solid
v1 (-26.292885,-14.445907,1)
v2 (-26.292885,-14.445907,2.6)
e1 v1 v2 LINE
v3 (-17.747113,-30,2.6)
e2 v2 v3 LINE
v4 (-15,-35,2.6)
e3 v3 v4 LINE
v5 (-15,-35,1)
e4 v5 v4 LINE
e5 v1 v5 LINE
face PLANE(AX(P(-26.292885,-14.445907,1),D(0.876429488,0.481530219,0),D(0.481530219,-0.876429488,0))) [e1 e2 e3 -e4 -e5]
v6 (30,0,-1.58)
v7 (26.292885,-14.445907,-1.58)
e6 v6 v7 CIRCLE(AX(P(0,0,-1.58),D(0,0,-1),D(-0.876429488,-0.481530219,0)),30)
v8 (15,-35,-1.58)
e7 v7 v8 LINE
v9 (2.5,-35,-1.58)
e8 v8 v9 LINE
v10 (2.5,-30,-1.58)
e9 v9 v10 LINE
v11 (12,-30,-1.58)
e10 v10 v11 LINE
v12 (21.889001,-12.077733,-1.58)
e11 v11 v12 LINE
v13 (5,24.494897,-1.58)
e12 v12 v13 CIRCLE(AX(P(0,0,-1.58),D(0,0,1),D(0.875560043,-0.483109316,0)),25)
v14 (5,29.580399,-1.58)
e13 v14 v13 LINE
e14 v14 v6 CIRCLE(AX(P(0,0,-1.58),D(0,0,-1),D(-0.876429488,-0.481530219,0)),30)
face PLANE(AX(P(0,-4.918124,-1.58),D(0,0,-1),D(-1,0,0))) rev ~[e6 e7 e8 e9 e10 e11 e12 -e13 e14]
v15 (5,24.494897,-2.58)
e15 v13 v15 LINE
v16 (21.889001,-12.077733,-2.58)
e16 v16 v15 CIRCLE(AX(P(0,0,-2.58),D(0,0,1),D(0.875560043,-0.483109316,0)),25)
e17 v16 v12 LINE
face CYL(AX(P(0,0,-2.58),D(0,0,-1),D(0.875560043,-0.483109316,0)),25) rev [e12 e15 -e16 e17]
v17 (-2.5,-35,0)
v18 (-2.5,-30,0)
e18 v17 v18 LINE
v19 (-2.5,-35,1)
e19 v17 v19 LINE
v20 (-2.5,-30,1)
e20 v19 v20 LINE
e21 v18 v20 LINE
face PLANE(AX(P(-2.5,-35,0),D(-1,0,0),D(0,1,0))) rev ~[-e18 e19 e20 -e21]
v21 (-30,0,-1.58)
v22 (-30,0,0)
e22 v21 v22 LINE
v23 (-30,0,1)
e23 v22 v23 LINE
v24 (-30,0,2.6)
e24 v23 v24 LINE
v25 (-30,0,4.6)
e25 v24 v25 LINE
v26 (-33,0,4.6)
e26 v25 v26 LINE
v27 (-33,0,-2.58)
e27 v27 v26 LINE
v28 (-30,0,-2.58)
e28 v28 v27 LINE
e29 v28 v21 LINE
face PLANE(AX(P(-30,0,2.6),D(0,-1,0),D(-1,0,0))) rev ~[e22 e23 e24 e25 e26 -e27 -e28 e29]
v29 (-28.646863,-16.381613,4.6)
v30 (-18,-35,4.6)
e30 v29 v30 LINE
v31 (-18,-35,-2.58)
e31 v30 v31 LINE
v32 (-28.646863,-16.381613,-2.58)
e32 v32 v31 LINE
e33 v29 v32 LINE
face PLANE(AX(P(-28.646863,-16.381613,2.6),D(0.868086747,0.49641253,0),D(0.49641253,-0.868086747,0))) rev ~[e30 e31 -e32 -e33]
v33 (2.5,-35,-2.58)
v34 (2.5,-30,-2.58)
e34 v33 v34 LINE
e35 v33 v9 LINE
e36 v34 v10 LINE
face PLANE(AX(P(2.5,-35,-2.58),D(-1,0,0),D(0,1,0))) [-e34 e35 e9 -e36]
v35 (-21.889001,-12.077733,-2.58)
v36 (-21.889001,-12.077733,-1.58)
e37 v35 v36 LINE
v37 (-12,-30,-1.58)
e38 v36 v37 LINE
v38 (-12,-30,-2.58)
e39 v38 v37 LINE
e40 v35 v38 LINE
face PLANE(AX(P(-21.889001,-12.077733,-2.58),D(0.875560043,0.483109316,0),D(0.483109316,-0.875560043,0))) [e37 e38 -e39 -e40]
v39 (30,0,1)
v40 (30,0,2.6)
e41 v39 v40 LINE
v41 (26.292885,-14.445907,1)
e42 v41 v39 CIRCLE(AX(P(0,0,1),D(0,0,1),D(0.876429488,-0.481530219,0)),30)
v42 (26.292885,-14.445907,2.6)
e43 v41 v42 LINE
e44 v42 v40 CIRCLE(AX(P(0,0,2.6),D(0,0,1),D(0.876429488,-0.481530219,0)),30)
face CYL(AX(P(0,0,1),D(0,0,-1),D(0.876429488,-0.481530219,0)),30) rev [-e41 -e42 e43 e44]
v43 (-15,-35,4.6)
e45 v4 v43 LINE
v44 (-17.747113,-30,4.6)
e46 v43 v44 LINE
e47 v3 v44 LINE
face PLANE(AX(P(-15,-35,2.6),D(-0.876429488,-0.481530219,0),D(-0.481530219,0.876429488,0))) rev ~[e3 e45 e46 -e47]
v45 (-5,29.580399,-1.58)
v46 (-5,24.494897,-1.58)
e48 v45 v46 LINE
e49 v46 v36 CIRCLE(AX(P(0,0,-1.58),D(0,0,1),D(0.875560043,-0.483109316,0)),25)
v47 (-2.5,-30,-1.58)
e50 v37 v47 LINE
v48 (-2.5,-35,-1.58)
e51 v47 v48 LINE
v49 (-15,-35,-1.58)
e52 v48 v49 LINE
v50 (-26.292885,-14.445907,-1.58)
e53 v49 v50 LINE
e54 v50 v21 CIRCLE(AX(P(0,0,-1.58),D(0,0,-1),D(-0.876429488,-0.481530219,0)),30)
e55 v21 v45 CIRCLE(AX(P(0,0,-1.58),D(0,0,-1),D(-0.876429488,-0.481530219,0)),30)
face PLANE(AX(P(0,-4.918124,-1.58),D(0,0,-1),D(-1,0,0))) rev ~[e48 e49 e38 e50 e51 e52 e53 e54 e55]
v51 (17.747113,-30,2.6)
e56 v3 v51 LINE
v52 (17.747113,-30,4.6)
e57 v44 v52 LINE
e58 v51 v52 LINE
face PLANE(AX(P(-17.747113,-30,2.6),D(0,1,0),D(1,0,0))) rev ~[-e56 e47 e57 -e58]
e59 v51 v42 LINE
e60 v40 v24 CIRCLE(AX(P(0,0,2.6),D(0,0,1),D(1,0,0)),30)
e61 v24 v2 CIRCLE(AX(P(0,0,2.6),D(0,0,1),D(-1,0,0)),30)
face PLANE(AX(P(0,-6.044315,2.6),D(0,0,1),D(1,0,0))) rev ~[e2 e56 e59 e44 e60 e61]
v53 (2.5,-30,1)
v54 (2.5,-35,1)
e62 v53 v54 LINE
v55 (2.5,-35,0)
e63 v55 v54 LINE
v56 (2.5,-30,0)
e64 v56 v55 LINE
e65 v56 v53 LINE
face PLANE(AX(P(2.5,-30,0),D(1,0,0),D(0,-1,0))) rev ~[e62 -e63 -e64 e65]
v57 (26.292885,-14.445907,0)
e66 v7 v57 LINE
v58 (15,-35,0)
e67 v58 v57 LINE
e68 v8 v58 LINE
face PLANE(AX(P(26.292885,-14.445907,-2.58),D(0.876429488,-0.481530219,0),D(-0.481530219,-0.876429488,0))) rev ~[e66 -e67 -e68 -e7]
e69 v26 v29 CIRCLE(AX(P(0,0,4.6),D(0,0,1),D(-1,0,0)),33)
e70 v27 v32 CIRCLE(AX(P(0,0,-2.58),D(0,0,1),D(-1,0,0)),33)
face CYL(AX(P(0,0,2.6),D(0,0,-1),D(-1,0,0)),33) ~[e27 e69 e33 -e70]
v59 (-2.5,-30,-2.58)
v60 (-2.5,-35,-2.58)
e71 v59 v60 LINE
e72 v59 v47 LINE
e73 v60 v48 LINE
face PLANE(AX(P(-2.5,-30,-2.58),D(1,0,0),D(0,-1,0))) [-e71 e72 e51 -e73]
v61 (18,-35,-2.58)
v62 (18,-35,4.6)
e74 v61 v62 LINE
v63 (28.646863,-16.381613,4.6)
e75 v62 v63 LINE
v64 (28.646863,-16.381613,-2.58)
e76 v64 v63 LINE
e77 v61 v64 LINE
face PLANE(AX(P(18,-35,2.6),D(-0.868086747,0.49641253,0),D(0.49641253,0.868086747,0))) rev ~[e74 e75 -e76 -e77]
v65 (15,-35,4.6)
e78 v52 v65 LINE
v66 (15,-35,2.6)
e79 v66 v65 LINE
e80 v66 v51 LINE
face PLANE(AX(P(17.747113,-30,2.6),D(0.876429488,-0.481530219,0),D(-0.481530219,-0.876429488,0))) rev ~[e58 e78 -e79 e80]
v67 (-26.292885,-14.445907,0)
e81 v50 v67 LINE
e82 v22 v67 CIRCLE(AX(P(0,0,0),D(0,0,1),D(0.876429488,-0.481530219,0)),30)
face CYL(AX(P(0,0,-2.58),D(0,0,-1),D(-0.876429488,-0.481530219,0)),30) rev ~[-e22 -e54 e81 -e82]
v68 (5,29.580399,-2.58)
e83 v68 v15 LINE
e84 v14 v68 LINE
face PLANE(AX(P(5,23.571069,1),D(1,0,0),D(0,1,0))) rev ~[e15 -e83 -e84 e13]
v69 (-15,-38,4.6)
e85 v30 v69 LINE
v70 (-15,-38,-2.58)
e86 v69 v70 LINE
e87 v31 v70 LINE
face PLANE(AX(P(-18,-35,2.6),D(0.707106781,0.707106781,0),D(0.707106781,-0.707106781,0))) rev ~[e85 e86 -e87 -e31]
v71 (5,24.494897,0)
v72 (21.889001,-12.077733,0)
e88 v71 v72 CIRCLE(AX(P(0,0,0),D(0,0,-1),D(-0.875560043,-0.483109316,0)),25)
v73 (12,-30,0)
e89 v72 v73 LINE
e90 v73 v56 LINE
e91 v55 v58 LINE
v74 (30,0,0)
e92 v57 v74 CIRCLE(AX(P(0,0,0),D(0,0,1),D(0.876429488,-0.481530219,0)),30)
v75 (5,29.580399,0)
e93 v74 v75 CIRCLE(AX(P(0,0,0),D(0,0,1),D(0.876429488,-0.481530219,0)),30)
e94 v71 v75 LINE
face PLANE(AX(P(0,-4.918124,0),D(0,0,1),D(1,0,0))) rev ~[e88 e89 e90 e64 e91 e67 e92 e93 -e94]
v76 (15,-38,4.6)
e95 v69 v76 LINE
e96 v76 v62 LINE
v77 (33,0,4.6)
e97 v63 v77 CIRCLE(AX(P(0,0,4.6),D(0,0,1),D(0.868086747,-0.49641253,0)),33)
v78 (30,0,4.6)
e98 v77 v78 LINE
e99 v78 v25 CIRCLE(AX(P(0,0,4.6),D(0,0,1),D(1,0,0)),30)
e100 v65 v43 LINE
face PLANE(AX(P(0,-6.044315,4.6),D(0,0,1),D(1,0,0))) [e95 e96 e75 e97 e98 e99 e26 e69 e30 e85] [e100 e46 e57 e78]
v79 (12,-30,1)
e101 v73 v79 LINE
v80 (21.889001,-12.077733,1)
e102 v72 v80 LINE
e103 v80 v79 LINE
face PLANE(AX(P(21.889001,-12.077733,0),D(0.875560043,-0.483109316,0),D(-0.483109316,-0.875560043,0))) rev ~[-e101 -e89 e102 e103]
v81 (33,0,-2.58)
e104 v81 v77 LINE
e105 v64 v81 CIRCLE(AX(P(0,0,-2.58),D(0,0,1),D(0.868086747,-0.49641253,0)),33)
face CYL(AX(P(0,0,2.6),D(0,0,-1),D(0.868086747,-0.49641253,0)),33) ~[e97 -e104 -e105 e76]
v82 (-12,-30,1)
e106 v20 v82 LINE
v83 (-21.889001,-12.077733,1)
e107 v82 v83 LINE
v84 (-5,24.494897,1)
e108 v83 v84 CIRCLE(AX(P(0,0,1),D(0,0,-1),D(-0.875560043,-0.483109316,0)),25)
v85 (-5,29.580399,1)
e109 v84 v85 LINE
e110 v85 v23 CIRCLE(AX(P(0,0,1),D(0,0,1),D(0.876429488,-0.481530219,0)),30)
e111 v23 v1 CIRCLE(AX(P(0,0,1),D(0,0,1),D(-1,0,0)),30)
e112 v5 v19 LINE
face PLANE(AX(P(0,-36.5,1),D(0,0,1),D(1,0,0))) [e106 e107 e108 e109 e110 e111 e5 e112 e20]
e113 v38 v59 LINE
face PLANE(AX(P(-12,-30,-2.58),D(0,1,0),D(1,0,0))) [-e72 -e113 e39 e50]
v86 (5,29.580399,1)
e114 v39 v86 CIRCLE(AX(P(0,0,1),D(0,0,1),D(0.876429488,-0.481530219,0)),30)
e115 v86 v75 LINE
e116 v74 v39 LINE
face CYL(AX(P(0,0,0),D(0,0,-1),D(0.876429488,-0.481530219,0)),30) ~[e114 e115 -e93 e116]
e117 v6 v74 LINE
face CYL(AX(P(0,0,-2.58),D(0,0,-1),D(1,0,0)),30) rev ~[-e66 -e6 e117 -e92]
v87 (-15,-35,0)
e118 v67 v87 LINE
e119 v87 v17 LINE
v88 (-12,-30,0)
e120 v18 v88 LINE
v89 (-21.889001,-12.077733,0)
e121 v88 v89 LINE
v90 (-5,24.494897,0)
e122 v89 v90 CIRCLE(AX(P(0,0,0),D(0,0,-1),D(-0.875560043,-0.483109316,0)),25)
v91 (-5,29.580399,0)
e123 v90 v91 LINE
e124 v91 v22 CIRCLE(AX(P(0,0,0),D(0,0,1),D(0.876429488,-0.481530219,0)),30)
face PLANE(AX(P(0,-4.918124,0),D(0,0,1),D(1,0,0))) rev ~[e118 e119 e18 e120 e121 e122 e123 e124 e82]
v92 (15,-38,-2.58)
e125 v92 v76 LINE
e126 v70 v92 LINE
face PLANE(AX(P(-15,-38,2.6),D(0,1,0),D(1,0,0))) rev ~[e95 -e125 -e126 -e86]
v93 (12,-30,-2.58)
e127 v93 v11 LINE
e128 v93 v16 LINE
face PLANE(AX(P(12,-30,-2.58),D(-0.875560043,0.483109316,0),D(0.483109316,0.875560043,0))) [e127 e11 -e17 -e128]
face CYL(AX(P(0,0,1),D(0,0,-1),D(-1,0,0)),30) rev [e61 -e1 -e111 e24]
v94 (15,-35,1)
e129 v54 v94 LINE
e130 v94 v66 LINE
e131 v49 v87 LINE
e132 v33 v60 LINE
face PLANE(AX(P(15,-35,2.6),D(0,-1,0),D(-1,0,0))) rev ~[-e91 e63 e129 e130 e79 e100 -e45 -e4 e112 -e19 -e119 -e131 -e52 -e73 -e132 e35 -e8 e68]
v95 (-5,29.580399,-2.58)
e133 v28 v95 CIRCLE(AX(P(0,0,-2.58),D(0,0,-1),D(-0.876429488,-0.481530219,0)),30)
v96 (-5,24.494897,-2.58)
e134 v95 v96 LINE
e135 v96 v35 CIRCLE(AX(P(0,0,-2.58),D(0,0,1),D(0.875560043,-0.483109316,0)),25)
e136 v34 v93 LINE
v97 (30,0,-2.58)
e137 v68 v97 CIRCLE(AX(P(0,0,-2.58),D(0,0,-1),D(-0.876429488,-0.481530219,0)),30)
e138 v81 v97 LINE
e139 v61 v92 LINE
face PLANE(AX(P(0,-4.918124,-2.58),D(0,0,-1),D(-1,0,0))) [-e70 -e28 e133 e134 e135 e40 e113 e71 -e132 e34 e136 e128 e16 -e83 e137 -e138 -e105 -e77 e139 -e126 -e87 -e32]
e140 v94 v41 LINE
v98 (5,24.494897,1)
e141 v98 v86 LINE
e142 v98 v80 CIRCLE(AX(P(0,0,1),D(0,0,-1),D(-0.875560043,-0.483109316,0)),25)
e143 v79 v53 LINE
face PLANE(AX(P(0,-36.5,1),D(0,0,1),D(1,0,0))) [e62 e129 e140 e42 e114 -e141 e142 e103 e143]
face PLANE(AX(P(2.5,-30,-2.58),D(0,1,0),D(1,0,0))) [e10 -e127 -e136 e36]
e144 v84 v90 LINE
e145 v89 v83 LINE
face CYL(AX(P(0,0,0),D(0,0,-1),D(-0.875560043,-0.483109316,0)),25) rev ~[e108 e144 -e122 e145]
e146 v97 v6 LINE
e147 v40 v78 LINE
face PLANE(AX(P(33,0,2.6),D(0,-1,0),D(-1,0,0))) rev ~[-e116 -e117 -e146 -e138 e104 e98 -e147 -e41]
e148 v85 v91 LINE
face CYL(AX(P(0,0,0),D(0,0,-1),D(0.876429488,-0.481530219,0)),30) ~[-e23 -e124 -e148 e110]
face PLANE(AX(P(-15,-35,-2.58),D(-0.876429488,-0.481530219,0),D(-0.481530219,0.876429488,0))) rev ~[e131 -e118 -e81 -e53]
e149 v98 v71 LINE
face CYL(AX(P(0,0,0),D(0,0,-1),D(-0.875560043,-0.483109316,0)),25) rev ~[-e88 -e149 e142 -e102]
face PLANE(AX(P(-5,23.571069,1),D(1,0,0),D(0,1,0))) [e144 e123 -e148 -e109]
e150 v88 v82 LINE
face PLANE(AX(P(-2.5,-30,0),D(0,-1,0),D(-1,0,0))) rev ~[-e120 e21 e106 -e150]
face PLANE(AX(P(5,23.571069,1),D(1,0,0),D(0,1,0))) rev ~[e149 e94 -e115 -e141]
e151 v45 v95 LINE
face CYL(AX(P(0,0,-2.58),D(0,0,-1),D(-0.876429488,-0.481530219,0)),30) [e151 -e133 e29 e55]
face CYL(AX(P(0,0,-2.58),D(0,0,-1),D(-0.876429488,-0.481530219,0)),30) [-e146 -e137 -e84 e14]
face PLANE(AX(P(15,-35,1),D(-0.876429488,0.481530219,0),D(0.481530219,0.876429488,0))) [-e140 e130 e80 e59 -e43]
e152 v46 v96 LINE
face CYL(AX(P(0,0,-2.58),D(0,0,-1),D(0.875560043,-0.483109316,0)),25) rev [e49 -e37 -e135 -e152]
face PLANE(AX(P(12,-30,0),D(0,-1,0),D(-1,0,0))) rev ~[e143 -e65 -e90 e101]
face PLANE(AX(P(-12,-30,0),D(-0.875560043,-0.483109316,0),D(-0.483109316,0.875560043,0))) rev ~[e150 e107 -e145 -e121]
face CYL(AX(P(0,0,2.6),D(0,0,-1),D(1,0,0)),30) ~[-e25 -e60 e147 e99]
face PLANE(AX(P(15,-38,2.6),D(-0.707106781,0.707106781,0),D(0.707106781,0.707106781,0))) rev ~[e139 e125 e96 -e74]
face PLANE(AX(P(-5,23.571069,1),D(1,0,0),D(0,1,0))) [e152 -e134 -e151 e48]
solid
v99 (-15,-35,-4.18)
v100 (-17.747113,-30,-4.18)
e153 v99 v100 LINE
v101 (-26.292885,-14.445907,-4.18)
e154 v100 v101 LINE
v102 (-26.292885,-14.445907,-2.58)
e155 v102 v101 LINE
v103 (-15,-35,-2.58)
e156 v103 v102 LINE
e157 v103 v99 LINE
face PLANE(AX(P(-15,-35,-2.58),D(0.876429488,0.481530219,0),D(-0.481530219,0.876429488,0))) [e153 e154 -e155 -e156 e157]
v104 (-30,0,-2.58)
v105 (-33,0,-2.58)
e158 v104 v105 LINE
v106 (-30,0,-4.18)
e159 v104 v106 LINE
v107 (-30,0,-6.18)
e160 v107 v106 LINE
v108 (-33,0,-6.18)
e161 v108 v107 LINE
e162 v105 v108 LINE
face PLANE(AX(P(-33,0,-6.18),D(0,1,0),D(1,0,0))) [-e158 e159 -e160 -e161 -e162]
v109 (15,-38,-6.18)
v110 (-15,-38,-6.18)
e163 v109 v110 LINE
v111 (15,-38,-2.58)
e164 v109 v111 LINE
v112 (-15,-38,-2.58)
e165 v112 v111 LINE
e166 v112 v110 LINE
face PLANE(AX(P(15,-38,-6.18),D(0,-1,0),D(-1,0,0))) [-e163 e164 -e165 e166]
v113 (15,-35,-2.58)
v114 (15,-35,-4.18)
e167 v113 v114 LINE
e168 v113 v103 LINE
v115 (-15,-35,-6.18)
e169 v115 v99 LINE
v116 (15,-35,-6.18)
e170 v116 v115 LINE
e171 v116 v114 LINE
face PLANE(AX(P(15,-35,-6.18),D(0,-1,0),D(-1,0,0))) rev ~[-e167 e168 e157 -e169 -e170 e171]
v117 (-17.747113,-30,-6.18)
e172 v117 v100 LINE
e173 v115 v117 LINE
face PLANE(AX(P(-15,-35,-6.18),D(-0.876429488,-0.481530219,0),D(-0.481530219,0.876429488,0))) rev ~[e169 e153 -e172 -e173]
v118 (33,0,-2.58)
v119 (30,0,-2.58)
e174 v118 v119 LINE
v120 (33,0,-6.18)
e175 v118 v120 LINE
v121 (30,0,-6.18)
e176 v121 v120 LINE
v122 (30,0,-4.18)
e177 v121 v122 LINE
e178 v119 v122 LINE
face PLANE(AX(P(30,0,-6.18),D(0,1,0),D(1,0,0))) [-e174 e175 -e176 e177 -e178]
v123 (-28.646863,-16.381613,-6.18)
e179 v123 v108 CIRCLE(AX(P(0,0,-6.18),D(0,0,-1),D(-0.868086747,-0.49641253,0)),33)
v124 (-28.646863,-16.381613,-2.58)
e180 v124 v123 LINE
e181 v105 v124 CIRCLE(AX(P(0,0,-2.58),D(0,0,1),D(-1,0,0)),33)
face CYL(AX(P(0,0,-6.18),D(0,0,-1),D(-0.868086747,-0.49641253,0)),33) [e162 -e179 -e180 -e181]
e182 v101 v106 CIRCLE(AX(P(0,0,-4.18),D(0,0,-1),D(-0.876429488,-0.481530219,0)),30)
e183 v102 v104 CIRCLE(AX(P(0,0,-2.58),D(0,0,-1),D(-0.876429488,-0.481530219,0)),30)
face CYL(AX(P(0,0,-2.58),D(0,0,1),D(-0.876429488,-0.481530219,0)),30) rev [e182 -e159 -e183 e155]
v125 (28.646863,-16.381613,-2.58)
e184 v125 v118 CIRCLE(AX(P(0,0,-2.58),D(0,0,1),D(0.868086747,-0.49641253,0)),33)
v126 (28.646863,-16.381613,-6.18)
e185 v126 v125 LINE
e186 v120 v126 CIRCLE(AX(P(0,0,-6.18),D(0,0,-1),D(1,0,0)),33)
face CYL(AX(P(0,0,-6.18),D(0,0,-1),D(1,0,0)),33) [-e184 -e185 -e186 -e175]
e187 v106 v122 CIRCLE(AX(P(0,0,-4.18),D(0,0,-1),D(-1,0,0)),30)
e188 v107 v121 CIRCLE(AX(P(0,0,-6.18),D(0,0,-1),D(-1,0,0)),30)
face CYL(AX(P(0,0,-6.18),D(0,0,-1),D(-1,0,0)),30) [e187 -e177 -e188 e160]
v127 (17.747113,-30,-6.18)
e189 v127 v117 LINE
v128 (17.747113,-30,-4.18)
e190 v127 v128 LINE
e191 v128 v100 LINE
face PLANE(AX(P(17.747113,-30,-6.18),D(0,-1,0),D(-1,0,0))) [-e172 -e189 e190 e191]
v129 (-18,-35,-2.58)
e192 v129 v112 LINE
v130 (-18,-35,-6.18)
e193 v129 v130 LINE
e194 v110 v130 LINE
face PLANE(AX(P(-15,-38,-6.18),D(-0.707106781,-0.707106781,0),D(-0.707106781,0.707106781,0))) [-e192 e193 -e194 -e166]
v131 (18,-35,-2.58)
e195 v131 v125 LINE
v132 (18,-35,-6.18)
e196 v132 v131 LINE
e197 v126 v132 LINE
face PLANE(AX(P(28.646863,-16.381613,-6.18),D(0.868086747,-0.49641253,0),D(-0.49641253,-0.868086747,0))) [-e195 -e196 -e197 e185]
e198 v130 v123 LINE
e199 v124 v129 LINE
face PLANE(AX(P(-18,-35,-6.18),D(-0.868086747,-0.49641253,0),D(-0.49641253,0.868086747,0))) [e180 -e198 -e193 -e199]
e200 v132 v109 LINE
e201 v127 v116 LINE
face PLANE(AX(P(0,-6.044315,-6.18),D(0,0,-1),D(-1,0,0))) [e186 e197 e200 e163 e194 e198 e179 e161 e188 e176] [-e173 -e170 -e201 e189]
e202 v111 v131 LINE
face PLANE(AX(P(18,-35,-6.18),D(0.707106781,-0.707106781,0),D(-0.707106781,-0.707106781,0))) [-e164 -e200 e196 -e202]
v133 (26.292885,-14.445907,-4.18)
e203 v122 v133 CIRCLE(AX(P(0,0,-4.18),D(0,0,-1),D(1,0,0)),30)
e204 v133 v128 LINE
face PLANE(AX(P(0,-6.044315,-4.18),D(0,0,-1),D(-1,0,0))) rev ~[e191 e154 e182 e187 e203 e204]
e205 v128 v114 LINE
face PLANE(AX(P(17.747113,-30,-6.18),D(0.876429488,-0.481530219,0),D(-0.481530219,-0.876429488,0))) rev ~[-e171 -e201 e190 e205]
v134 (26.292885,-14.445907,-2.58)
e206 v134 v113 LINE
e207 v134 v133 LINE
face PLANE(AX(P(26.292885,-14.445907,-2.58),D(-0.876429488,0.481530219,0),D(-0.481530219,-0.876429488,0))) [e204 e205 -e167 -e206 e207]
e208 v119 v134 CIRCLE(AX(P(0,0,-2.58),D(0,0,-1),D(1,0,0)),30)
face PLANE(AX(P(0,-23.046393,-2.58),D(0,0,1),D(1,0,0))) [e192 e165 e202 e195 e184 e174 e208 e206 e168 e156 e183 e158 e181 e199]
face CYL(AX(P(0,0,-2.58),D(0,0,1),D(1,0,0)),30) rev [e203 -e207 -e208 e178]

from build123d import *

# Parameters (mm, degrees)
RESSALTO_EXTRUS_O3_DEPTH = 1
RESSALTO_EXTRUS_O4_START = -3.58
RESSALTO_EXTRUS_O4_DEPTH = 3.58
RESSALTO_EXTRUS_O5_DEPTH = 1
RESSALTO_EXTRUS_O6_DEPTH = 1.6
RESSALTO_EXTRUS_O7_DEPTH = 1.6
ESBO_O9_W                = 10
ESBO_O9_H                = 12.857862002
CORTE_EXTRUS_O2_DEPTH    = 4
RESSALTO_EXTRUS_O8_DEPTH = 2
RESSALTO_EXTRUS_O9_START = 2
RESSALTO_EXTRUS_O9_DEPTH = 2


with BuildPart() as part:
    # Esboço1 → Ressalto-extrusão3 (new body)
    with BuildSketch(Plane.XY):
        with BuildLine():
            Line((5, -35), (15, -35))
            Line((15, -35), (26.292884648, -14.44590658))
            ThreePointArc((26.292884648, -14.44590658), (0, 30), (-26.292884648, -14.44590658))
            Line((-26.292884648, -14.44590658), (-15, -35))
            Line((-15, -35), (-5, -35))
            Line((-5, -35), (-2.5, -35))
            Line((-2.5, -35), (-2.5, -32.5))
            Line((-2.5, -32.5), (-2.5, -30))
            Line((-2.5, -30), (-5, -30))
            Line((-5, -30), (-12, -30))
            Line((-12, -30), (-21.889001071, -12.077732905))
            ThreePointArc((-21.889001071, -12.077732905), (0, 25), (21.889001071, -12.077732905))
            Line((21.889001071, -12.077732905), (12, -30))
            Line((12, -30), (5, -30))
            Line((5, -30), (2.5, -30))
            Line((2.5, -30), (2.5, -32.5))
            Line((2.5, -32.5), (2.5, -35))
            Line((2.5, -35), (5, -35))
        make_face()
    extrude(amount=RESSALTO_EXTRUS_O3_DEPTH)

    # Esboço2 → Ressalto-extrusão4 (add)
    with BuildSketch(Plane.XY.offset(1).offset(RESSALTO_EXTRUS_O4_START)):
        Polygon((-2.5, -35), (-15, -35), (-15, -38), (15, -38), (15, -35), (2.5, -35), align=None)
        Polygon((18, -35), (15, -38), (15, -35), align=None)
        with BuildLine():
            Line((33, 0), (30, 0))
            ThreePointArc((30, 0), (29.058445755, -7.45699204), (26.292884648, -14.44590658))
            Line((26.292884648, -14.44590658), (15, -35))
            Line((15, -35), (18, -35))
            Line((18, -35), (28.646862641, -16.381613499))
            ThreePointArc((28.646862641, -16.381613499), (31.893153397, -8.47506734), (33, 0))
        make_face()
        Polygon((-15, -35), (-18, -35), (-15, -38), align=None)
        with BuildLine():
            ThreePointArc((-26.292884648, -14.44590658), (-29.058445755, -7.45699204), (-30, 0))
            Line((-30, 0), (-33, 0))
            ThreePointArc((-33, 0), (-31.893153397, -8.47506734), (-28.646862641, -16.381613499))
            Line((-28.646862641, -16.381613499), (-18, -35))
            Line((-18, -35), (-15, -35))
            Line((-15, -35), (-26.292884648, -14.44590658))
        make_face()
    extrude(amount=RESSALTO_EXTRUS_O4_DEPTH)

    # Esboço4 → Ressalto-extrusão5 (add)
    with BuildSketch(Plane(origin=(0, 0, -2.58), x_dir=(-1, 0, 0), z_dir=(0, 0, -1))):
        with BuildLine():
            Line((-15, -35), (-2.5, -35))
            Line((-2.5, -35), (-2.5, -30))
            Line((-2.5, -30), (-12, -30))
            Line((-12, -30), (-21.889001071, -12.077732905))
            ThreePointArc((-21.889001071, -12.077732905), (0, 25), (21.889001071, -12.077732905))
            Line((21.889001071, -12.077732905), (12, -30))
            Line((12, -30), (2.5, -30))
            Line((2.5, -30), (2.5, -35))
            Line((2.5, -35), (15, -35))
            Line((15, -35), (26.292884648, -14.44590658))
            ThreePointArc((26.292884648, -14.44590658), (0, 30), (-26.292884648, -14.44590658))
            Line((-26.292884648, -14.44590658), (-15, -35))
        make_face()
    extrude(amount=-RESSALTO_EXTRUS_O5_DEPTH)

    # Esboço5 → Ressalto-extrusão6 (add)
    with BuildSketch(Plane.XY.offset(1)):
        with BuildLine():
            Line((-15, -38), (-18, -35))
            Line((-18, -35), (-28.646862641, -16.381613499))
            ThreePointArc((-28.646862641, -16.381613499), (-31.893153397, -8.47506734), (-33, 0))
            Line((-33, 0), (-29.999999999, 0))
            ThreePointArc((-29.999999999, 0), (-29.058445755, -7.456992039), (-26.292884647, -14.445906578))
            Line((-26.292884647, -14.445906578), (-15, -35))
            Line((-15, -35), (-12.5, -35))
            Line((-12.5, -35), (0, -35))
            Line((0, -35), (12.5, -35))
            Line((12.5, -35), (14.999999999, -35))
            Line((14.999999999, -35), (26.292884647, -14.445906579))
            ThreePointArc((26.292884647, -14.445906579), (29.058445755, -7.45699204), (29.999999999, 0))
            Line((29.999999999, 0), (33, 0))
            ThreePointArc((33, 0), (31.893153397, -8.47506734), (28.646862641, -16.381613499))
            Line((28.646862641, -16.381613499), (18, -35))
            Line((18, -35), (15, -38))
            Line((15, -38), (-15, -38))
        make_face()
    extrude(amount=RESSALTO_EXTRUS_O6_DEPTH)

    # Esboço9 → Corte-extrusão2 (cut)
    with BuildSketch(Plane.XY.offset(1)):
        with Locations((0, 30)):
            Rectangle(ESBO_O9_W, ESBO_O9_H)
    extrude(amount=-CORTE_EXTRUS_O2_DEPTH, mode=Mode.SUBTRACT)

    # Esboço8 → Ressalto-extrusão8 (add)
    with BuildSketch(Plane.XY.offset(2.6)):
        with BuildLine():
            Line((-15, -38), (15, -38))
            Line((15, -38), (18, -35))
            Line((18, -35), (28.646862641, -16.381613499))
            ThreePointArc((28.646862641, -16.381613499), (31.893153397, -8.47506734), (33, 0))
            Line((33, 0), (30, 0))
            ThreePointArc((30, 0), (0, 30), (-30, 0))
            Line((-30, 0), (-33, 0))
            ThreePointArc((-33, 0), (-31.893153397, -8.47506734), (-28.646862641, -16.381613499))
            Line((-28.646862641, -16.381613499), (-18, -35))
            Line((-18, -35), (-15, -38))
        make_face()
        Polygon((-12, -30), (17.747113291, -30), (14.999999999, -35), (-15, -35), (-17.747113292, -30), align=None, mode=Mode.SUBTRACT)
    extrude(amount=RESSALTO_EXTRUS_O8_DEPTH)


with BuildPart() as body_2:
    # Esboço6 → Ressalto-extrusão7 (new body)
    with BuildSketch(Plane(origin=(0, 0, -2.58), x_dir=(-1, 0, 0), z_dir=(0, 0, -1))):
        with BuildLine():
            Line((-15, -38), (-18, -35))
            Line((-18, -35), (-28.646862641, -16.381613499))
            ThreePointArc((-28.646862641, -16.381613499), (-31.893153397, -8.47506734), (-33, 0))
            Line((-33, 0), (-30, 0))
            ThreePointArc((-30, 0), (-29.058445755, -7.45699204), (-26.292884648, -14.44590658))
            Line((-26.292884648, -14.44590658), (-15, -35))
            Line((-15, -35), (15, -35))
            Line((15, -35), (26.292884648, -14.44590658))
            ThreePointArc((26.292884648, -14.44590658), (29.058445755, -7.45699204), (30, 0))
            Line((30, 0), (33, 0))
            ThreePointArc((33, 0), (31.893153397, -8.47506734), (28.646862641, -16.381613499))
            Line((28.646862641, -16.381613499), (18, -35))
            Line((18, -35), (15, -38))
            Line((15, -38), (-15, -38))
        make_face()
    extrude(amount=RESSALTO_EXTRUS_O7_DEPTH)

    # Esboço11 → Ressalto-extrusão9 (add)
    with BuildSketch(Plane(origin=(0, 0, -4.18), x_dir=(-1, 0, 0), z_dir=(0, 0, -1)).offset(RESSALTO_EXTRUS_O9_START)):
        with BuildLine():
            Line((-15, -38), (15, -38))
            Line((15, -38), (18, -35))
            Line((18, -35), (28.646862641, -16.381613499))
            ThreePointArc((28.646862641, -16.381613499), (31.893153397, -8.47506734), (33, 0))
            Line((33, 0), (30, 0))
            ThreePointArc((30, 0), (0, 30), (-30, 0))
            Line((-30, 0), (-33, 0))
            ThreePointArc((-33, 0), (-31.893153397, -8.47506734), (-28.646862641, -16.381613499))
            Line((-28.646862641, -16.381613499), (-18, -35))
            Line((-18, -35), (-15, -38))
        make_face()
        Polygon((-15, -35), (15, -35), (17.747113292, -30), (-12, -30), (-17.747113292, -30), align=None, mode=Mode.SUBTRACT)
    extrude(amount=-RESSALTO_EXTRUS_O9_DEPTH)


solid = Compound([part.part, body_2.part])
